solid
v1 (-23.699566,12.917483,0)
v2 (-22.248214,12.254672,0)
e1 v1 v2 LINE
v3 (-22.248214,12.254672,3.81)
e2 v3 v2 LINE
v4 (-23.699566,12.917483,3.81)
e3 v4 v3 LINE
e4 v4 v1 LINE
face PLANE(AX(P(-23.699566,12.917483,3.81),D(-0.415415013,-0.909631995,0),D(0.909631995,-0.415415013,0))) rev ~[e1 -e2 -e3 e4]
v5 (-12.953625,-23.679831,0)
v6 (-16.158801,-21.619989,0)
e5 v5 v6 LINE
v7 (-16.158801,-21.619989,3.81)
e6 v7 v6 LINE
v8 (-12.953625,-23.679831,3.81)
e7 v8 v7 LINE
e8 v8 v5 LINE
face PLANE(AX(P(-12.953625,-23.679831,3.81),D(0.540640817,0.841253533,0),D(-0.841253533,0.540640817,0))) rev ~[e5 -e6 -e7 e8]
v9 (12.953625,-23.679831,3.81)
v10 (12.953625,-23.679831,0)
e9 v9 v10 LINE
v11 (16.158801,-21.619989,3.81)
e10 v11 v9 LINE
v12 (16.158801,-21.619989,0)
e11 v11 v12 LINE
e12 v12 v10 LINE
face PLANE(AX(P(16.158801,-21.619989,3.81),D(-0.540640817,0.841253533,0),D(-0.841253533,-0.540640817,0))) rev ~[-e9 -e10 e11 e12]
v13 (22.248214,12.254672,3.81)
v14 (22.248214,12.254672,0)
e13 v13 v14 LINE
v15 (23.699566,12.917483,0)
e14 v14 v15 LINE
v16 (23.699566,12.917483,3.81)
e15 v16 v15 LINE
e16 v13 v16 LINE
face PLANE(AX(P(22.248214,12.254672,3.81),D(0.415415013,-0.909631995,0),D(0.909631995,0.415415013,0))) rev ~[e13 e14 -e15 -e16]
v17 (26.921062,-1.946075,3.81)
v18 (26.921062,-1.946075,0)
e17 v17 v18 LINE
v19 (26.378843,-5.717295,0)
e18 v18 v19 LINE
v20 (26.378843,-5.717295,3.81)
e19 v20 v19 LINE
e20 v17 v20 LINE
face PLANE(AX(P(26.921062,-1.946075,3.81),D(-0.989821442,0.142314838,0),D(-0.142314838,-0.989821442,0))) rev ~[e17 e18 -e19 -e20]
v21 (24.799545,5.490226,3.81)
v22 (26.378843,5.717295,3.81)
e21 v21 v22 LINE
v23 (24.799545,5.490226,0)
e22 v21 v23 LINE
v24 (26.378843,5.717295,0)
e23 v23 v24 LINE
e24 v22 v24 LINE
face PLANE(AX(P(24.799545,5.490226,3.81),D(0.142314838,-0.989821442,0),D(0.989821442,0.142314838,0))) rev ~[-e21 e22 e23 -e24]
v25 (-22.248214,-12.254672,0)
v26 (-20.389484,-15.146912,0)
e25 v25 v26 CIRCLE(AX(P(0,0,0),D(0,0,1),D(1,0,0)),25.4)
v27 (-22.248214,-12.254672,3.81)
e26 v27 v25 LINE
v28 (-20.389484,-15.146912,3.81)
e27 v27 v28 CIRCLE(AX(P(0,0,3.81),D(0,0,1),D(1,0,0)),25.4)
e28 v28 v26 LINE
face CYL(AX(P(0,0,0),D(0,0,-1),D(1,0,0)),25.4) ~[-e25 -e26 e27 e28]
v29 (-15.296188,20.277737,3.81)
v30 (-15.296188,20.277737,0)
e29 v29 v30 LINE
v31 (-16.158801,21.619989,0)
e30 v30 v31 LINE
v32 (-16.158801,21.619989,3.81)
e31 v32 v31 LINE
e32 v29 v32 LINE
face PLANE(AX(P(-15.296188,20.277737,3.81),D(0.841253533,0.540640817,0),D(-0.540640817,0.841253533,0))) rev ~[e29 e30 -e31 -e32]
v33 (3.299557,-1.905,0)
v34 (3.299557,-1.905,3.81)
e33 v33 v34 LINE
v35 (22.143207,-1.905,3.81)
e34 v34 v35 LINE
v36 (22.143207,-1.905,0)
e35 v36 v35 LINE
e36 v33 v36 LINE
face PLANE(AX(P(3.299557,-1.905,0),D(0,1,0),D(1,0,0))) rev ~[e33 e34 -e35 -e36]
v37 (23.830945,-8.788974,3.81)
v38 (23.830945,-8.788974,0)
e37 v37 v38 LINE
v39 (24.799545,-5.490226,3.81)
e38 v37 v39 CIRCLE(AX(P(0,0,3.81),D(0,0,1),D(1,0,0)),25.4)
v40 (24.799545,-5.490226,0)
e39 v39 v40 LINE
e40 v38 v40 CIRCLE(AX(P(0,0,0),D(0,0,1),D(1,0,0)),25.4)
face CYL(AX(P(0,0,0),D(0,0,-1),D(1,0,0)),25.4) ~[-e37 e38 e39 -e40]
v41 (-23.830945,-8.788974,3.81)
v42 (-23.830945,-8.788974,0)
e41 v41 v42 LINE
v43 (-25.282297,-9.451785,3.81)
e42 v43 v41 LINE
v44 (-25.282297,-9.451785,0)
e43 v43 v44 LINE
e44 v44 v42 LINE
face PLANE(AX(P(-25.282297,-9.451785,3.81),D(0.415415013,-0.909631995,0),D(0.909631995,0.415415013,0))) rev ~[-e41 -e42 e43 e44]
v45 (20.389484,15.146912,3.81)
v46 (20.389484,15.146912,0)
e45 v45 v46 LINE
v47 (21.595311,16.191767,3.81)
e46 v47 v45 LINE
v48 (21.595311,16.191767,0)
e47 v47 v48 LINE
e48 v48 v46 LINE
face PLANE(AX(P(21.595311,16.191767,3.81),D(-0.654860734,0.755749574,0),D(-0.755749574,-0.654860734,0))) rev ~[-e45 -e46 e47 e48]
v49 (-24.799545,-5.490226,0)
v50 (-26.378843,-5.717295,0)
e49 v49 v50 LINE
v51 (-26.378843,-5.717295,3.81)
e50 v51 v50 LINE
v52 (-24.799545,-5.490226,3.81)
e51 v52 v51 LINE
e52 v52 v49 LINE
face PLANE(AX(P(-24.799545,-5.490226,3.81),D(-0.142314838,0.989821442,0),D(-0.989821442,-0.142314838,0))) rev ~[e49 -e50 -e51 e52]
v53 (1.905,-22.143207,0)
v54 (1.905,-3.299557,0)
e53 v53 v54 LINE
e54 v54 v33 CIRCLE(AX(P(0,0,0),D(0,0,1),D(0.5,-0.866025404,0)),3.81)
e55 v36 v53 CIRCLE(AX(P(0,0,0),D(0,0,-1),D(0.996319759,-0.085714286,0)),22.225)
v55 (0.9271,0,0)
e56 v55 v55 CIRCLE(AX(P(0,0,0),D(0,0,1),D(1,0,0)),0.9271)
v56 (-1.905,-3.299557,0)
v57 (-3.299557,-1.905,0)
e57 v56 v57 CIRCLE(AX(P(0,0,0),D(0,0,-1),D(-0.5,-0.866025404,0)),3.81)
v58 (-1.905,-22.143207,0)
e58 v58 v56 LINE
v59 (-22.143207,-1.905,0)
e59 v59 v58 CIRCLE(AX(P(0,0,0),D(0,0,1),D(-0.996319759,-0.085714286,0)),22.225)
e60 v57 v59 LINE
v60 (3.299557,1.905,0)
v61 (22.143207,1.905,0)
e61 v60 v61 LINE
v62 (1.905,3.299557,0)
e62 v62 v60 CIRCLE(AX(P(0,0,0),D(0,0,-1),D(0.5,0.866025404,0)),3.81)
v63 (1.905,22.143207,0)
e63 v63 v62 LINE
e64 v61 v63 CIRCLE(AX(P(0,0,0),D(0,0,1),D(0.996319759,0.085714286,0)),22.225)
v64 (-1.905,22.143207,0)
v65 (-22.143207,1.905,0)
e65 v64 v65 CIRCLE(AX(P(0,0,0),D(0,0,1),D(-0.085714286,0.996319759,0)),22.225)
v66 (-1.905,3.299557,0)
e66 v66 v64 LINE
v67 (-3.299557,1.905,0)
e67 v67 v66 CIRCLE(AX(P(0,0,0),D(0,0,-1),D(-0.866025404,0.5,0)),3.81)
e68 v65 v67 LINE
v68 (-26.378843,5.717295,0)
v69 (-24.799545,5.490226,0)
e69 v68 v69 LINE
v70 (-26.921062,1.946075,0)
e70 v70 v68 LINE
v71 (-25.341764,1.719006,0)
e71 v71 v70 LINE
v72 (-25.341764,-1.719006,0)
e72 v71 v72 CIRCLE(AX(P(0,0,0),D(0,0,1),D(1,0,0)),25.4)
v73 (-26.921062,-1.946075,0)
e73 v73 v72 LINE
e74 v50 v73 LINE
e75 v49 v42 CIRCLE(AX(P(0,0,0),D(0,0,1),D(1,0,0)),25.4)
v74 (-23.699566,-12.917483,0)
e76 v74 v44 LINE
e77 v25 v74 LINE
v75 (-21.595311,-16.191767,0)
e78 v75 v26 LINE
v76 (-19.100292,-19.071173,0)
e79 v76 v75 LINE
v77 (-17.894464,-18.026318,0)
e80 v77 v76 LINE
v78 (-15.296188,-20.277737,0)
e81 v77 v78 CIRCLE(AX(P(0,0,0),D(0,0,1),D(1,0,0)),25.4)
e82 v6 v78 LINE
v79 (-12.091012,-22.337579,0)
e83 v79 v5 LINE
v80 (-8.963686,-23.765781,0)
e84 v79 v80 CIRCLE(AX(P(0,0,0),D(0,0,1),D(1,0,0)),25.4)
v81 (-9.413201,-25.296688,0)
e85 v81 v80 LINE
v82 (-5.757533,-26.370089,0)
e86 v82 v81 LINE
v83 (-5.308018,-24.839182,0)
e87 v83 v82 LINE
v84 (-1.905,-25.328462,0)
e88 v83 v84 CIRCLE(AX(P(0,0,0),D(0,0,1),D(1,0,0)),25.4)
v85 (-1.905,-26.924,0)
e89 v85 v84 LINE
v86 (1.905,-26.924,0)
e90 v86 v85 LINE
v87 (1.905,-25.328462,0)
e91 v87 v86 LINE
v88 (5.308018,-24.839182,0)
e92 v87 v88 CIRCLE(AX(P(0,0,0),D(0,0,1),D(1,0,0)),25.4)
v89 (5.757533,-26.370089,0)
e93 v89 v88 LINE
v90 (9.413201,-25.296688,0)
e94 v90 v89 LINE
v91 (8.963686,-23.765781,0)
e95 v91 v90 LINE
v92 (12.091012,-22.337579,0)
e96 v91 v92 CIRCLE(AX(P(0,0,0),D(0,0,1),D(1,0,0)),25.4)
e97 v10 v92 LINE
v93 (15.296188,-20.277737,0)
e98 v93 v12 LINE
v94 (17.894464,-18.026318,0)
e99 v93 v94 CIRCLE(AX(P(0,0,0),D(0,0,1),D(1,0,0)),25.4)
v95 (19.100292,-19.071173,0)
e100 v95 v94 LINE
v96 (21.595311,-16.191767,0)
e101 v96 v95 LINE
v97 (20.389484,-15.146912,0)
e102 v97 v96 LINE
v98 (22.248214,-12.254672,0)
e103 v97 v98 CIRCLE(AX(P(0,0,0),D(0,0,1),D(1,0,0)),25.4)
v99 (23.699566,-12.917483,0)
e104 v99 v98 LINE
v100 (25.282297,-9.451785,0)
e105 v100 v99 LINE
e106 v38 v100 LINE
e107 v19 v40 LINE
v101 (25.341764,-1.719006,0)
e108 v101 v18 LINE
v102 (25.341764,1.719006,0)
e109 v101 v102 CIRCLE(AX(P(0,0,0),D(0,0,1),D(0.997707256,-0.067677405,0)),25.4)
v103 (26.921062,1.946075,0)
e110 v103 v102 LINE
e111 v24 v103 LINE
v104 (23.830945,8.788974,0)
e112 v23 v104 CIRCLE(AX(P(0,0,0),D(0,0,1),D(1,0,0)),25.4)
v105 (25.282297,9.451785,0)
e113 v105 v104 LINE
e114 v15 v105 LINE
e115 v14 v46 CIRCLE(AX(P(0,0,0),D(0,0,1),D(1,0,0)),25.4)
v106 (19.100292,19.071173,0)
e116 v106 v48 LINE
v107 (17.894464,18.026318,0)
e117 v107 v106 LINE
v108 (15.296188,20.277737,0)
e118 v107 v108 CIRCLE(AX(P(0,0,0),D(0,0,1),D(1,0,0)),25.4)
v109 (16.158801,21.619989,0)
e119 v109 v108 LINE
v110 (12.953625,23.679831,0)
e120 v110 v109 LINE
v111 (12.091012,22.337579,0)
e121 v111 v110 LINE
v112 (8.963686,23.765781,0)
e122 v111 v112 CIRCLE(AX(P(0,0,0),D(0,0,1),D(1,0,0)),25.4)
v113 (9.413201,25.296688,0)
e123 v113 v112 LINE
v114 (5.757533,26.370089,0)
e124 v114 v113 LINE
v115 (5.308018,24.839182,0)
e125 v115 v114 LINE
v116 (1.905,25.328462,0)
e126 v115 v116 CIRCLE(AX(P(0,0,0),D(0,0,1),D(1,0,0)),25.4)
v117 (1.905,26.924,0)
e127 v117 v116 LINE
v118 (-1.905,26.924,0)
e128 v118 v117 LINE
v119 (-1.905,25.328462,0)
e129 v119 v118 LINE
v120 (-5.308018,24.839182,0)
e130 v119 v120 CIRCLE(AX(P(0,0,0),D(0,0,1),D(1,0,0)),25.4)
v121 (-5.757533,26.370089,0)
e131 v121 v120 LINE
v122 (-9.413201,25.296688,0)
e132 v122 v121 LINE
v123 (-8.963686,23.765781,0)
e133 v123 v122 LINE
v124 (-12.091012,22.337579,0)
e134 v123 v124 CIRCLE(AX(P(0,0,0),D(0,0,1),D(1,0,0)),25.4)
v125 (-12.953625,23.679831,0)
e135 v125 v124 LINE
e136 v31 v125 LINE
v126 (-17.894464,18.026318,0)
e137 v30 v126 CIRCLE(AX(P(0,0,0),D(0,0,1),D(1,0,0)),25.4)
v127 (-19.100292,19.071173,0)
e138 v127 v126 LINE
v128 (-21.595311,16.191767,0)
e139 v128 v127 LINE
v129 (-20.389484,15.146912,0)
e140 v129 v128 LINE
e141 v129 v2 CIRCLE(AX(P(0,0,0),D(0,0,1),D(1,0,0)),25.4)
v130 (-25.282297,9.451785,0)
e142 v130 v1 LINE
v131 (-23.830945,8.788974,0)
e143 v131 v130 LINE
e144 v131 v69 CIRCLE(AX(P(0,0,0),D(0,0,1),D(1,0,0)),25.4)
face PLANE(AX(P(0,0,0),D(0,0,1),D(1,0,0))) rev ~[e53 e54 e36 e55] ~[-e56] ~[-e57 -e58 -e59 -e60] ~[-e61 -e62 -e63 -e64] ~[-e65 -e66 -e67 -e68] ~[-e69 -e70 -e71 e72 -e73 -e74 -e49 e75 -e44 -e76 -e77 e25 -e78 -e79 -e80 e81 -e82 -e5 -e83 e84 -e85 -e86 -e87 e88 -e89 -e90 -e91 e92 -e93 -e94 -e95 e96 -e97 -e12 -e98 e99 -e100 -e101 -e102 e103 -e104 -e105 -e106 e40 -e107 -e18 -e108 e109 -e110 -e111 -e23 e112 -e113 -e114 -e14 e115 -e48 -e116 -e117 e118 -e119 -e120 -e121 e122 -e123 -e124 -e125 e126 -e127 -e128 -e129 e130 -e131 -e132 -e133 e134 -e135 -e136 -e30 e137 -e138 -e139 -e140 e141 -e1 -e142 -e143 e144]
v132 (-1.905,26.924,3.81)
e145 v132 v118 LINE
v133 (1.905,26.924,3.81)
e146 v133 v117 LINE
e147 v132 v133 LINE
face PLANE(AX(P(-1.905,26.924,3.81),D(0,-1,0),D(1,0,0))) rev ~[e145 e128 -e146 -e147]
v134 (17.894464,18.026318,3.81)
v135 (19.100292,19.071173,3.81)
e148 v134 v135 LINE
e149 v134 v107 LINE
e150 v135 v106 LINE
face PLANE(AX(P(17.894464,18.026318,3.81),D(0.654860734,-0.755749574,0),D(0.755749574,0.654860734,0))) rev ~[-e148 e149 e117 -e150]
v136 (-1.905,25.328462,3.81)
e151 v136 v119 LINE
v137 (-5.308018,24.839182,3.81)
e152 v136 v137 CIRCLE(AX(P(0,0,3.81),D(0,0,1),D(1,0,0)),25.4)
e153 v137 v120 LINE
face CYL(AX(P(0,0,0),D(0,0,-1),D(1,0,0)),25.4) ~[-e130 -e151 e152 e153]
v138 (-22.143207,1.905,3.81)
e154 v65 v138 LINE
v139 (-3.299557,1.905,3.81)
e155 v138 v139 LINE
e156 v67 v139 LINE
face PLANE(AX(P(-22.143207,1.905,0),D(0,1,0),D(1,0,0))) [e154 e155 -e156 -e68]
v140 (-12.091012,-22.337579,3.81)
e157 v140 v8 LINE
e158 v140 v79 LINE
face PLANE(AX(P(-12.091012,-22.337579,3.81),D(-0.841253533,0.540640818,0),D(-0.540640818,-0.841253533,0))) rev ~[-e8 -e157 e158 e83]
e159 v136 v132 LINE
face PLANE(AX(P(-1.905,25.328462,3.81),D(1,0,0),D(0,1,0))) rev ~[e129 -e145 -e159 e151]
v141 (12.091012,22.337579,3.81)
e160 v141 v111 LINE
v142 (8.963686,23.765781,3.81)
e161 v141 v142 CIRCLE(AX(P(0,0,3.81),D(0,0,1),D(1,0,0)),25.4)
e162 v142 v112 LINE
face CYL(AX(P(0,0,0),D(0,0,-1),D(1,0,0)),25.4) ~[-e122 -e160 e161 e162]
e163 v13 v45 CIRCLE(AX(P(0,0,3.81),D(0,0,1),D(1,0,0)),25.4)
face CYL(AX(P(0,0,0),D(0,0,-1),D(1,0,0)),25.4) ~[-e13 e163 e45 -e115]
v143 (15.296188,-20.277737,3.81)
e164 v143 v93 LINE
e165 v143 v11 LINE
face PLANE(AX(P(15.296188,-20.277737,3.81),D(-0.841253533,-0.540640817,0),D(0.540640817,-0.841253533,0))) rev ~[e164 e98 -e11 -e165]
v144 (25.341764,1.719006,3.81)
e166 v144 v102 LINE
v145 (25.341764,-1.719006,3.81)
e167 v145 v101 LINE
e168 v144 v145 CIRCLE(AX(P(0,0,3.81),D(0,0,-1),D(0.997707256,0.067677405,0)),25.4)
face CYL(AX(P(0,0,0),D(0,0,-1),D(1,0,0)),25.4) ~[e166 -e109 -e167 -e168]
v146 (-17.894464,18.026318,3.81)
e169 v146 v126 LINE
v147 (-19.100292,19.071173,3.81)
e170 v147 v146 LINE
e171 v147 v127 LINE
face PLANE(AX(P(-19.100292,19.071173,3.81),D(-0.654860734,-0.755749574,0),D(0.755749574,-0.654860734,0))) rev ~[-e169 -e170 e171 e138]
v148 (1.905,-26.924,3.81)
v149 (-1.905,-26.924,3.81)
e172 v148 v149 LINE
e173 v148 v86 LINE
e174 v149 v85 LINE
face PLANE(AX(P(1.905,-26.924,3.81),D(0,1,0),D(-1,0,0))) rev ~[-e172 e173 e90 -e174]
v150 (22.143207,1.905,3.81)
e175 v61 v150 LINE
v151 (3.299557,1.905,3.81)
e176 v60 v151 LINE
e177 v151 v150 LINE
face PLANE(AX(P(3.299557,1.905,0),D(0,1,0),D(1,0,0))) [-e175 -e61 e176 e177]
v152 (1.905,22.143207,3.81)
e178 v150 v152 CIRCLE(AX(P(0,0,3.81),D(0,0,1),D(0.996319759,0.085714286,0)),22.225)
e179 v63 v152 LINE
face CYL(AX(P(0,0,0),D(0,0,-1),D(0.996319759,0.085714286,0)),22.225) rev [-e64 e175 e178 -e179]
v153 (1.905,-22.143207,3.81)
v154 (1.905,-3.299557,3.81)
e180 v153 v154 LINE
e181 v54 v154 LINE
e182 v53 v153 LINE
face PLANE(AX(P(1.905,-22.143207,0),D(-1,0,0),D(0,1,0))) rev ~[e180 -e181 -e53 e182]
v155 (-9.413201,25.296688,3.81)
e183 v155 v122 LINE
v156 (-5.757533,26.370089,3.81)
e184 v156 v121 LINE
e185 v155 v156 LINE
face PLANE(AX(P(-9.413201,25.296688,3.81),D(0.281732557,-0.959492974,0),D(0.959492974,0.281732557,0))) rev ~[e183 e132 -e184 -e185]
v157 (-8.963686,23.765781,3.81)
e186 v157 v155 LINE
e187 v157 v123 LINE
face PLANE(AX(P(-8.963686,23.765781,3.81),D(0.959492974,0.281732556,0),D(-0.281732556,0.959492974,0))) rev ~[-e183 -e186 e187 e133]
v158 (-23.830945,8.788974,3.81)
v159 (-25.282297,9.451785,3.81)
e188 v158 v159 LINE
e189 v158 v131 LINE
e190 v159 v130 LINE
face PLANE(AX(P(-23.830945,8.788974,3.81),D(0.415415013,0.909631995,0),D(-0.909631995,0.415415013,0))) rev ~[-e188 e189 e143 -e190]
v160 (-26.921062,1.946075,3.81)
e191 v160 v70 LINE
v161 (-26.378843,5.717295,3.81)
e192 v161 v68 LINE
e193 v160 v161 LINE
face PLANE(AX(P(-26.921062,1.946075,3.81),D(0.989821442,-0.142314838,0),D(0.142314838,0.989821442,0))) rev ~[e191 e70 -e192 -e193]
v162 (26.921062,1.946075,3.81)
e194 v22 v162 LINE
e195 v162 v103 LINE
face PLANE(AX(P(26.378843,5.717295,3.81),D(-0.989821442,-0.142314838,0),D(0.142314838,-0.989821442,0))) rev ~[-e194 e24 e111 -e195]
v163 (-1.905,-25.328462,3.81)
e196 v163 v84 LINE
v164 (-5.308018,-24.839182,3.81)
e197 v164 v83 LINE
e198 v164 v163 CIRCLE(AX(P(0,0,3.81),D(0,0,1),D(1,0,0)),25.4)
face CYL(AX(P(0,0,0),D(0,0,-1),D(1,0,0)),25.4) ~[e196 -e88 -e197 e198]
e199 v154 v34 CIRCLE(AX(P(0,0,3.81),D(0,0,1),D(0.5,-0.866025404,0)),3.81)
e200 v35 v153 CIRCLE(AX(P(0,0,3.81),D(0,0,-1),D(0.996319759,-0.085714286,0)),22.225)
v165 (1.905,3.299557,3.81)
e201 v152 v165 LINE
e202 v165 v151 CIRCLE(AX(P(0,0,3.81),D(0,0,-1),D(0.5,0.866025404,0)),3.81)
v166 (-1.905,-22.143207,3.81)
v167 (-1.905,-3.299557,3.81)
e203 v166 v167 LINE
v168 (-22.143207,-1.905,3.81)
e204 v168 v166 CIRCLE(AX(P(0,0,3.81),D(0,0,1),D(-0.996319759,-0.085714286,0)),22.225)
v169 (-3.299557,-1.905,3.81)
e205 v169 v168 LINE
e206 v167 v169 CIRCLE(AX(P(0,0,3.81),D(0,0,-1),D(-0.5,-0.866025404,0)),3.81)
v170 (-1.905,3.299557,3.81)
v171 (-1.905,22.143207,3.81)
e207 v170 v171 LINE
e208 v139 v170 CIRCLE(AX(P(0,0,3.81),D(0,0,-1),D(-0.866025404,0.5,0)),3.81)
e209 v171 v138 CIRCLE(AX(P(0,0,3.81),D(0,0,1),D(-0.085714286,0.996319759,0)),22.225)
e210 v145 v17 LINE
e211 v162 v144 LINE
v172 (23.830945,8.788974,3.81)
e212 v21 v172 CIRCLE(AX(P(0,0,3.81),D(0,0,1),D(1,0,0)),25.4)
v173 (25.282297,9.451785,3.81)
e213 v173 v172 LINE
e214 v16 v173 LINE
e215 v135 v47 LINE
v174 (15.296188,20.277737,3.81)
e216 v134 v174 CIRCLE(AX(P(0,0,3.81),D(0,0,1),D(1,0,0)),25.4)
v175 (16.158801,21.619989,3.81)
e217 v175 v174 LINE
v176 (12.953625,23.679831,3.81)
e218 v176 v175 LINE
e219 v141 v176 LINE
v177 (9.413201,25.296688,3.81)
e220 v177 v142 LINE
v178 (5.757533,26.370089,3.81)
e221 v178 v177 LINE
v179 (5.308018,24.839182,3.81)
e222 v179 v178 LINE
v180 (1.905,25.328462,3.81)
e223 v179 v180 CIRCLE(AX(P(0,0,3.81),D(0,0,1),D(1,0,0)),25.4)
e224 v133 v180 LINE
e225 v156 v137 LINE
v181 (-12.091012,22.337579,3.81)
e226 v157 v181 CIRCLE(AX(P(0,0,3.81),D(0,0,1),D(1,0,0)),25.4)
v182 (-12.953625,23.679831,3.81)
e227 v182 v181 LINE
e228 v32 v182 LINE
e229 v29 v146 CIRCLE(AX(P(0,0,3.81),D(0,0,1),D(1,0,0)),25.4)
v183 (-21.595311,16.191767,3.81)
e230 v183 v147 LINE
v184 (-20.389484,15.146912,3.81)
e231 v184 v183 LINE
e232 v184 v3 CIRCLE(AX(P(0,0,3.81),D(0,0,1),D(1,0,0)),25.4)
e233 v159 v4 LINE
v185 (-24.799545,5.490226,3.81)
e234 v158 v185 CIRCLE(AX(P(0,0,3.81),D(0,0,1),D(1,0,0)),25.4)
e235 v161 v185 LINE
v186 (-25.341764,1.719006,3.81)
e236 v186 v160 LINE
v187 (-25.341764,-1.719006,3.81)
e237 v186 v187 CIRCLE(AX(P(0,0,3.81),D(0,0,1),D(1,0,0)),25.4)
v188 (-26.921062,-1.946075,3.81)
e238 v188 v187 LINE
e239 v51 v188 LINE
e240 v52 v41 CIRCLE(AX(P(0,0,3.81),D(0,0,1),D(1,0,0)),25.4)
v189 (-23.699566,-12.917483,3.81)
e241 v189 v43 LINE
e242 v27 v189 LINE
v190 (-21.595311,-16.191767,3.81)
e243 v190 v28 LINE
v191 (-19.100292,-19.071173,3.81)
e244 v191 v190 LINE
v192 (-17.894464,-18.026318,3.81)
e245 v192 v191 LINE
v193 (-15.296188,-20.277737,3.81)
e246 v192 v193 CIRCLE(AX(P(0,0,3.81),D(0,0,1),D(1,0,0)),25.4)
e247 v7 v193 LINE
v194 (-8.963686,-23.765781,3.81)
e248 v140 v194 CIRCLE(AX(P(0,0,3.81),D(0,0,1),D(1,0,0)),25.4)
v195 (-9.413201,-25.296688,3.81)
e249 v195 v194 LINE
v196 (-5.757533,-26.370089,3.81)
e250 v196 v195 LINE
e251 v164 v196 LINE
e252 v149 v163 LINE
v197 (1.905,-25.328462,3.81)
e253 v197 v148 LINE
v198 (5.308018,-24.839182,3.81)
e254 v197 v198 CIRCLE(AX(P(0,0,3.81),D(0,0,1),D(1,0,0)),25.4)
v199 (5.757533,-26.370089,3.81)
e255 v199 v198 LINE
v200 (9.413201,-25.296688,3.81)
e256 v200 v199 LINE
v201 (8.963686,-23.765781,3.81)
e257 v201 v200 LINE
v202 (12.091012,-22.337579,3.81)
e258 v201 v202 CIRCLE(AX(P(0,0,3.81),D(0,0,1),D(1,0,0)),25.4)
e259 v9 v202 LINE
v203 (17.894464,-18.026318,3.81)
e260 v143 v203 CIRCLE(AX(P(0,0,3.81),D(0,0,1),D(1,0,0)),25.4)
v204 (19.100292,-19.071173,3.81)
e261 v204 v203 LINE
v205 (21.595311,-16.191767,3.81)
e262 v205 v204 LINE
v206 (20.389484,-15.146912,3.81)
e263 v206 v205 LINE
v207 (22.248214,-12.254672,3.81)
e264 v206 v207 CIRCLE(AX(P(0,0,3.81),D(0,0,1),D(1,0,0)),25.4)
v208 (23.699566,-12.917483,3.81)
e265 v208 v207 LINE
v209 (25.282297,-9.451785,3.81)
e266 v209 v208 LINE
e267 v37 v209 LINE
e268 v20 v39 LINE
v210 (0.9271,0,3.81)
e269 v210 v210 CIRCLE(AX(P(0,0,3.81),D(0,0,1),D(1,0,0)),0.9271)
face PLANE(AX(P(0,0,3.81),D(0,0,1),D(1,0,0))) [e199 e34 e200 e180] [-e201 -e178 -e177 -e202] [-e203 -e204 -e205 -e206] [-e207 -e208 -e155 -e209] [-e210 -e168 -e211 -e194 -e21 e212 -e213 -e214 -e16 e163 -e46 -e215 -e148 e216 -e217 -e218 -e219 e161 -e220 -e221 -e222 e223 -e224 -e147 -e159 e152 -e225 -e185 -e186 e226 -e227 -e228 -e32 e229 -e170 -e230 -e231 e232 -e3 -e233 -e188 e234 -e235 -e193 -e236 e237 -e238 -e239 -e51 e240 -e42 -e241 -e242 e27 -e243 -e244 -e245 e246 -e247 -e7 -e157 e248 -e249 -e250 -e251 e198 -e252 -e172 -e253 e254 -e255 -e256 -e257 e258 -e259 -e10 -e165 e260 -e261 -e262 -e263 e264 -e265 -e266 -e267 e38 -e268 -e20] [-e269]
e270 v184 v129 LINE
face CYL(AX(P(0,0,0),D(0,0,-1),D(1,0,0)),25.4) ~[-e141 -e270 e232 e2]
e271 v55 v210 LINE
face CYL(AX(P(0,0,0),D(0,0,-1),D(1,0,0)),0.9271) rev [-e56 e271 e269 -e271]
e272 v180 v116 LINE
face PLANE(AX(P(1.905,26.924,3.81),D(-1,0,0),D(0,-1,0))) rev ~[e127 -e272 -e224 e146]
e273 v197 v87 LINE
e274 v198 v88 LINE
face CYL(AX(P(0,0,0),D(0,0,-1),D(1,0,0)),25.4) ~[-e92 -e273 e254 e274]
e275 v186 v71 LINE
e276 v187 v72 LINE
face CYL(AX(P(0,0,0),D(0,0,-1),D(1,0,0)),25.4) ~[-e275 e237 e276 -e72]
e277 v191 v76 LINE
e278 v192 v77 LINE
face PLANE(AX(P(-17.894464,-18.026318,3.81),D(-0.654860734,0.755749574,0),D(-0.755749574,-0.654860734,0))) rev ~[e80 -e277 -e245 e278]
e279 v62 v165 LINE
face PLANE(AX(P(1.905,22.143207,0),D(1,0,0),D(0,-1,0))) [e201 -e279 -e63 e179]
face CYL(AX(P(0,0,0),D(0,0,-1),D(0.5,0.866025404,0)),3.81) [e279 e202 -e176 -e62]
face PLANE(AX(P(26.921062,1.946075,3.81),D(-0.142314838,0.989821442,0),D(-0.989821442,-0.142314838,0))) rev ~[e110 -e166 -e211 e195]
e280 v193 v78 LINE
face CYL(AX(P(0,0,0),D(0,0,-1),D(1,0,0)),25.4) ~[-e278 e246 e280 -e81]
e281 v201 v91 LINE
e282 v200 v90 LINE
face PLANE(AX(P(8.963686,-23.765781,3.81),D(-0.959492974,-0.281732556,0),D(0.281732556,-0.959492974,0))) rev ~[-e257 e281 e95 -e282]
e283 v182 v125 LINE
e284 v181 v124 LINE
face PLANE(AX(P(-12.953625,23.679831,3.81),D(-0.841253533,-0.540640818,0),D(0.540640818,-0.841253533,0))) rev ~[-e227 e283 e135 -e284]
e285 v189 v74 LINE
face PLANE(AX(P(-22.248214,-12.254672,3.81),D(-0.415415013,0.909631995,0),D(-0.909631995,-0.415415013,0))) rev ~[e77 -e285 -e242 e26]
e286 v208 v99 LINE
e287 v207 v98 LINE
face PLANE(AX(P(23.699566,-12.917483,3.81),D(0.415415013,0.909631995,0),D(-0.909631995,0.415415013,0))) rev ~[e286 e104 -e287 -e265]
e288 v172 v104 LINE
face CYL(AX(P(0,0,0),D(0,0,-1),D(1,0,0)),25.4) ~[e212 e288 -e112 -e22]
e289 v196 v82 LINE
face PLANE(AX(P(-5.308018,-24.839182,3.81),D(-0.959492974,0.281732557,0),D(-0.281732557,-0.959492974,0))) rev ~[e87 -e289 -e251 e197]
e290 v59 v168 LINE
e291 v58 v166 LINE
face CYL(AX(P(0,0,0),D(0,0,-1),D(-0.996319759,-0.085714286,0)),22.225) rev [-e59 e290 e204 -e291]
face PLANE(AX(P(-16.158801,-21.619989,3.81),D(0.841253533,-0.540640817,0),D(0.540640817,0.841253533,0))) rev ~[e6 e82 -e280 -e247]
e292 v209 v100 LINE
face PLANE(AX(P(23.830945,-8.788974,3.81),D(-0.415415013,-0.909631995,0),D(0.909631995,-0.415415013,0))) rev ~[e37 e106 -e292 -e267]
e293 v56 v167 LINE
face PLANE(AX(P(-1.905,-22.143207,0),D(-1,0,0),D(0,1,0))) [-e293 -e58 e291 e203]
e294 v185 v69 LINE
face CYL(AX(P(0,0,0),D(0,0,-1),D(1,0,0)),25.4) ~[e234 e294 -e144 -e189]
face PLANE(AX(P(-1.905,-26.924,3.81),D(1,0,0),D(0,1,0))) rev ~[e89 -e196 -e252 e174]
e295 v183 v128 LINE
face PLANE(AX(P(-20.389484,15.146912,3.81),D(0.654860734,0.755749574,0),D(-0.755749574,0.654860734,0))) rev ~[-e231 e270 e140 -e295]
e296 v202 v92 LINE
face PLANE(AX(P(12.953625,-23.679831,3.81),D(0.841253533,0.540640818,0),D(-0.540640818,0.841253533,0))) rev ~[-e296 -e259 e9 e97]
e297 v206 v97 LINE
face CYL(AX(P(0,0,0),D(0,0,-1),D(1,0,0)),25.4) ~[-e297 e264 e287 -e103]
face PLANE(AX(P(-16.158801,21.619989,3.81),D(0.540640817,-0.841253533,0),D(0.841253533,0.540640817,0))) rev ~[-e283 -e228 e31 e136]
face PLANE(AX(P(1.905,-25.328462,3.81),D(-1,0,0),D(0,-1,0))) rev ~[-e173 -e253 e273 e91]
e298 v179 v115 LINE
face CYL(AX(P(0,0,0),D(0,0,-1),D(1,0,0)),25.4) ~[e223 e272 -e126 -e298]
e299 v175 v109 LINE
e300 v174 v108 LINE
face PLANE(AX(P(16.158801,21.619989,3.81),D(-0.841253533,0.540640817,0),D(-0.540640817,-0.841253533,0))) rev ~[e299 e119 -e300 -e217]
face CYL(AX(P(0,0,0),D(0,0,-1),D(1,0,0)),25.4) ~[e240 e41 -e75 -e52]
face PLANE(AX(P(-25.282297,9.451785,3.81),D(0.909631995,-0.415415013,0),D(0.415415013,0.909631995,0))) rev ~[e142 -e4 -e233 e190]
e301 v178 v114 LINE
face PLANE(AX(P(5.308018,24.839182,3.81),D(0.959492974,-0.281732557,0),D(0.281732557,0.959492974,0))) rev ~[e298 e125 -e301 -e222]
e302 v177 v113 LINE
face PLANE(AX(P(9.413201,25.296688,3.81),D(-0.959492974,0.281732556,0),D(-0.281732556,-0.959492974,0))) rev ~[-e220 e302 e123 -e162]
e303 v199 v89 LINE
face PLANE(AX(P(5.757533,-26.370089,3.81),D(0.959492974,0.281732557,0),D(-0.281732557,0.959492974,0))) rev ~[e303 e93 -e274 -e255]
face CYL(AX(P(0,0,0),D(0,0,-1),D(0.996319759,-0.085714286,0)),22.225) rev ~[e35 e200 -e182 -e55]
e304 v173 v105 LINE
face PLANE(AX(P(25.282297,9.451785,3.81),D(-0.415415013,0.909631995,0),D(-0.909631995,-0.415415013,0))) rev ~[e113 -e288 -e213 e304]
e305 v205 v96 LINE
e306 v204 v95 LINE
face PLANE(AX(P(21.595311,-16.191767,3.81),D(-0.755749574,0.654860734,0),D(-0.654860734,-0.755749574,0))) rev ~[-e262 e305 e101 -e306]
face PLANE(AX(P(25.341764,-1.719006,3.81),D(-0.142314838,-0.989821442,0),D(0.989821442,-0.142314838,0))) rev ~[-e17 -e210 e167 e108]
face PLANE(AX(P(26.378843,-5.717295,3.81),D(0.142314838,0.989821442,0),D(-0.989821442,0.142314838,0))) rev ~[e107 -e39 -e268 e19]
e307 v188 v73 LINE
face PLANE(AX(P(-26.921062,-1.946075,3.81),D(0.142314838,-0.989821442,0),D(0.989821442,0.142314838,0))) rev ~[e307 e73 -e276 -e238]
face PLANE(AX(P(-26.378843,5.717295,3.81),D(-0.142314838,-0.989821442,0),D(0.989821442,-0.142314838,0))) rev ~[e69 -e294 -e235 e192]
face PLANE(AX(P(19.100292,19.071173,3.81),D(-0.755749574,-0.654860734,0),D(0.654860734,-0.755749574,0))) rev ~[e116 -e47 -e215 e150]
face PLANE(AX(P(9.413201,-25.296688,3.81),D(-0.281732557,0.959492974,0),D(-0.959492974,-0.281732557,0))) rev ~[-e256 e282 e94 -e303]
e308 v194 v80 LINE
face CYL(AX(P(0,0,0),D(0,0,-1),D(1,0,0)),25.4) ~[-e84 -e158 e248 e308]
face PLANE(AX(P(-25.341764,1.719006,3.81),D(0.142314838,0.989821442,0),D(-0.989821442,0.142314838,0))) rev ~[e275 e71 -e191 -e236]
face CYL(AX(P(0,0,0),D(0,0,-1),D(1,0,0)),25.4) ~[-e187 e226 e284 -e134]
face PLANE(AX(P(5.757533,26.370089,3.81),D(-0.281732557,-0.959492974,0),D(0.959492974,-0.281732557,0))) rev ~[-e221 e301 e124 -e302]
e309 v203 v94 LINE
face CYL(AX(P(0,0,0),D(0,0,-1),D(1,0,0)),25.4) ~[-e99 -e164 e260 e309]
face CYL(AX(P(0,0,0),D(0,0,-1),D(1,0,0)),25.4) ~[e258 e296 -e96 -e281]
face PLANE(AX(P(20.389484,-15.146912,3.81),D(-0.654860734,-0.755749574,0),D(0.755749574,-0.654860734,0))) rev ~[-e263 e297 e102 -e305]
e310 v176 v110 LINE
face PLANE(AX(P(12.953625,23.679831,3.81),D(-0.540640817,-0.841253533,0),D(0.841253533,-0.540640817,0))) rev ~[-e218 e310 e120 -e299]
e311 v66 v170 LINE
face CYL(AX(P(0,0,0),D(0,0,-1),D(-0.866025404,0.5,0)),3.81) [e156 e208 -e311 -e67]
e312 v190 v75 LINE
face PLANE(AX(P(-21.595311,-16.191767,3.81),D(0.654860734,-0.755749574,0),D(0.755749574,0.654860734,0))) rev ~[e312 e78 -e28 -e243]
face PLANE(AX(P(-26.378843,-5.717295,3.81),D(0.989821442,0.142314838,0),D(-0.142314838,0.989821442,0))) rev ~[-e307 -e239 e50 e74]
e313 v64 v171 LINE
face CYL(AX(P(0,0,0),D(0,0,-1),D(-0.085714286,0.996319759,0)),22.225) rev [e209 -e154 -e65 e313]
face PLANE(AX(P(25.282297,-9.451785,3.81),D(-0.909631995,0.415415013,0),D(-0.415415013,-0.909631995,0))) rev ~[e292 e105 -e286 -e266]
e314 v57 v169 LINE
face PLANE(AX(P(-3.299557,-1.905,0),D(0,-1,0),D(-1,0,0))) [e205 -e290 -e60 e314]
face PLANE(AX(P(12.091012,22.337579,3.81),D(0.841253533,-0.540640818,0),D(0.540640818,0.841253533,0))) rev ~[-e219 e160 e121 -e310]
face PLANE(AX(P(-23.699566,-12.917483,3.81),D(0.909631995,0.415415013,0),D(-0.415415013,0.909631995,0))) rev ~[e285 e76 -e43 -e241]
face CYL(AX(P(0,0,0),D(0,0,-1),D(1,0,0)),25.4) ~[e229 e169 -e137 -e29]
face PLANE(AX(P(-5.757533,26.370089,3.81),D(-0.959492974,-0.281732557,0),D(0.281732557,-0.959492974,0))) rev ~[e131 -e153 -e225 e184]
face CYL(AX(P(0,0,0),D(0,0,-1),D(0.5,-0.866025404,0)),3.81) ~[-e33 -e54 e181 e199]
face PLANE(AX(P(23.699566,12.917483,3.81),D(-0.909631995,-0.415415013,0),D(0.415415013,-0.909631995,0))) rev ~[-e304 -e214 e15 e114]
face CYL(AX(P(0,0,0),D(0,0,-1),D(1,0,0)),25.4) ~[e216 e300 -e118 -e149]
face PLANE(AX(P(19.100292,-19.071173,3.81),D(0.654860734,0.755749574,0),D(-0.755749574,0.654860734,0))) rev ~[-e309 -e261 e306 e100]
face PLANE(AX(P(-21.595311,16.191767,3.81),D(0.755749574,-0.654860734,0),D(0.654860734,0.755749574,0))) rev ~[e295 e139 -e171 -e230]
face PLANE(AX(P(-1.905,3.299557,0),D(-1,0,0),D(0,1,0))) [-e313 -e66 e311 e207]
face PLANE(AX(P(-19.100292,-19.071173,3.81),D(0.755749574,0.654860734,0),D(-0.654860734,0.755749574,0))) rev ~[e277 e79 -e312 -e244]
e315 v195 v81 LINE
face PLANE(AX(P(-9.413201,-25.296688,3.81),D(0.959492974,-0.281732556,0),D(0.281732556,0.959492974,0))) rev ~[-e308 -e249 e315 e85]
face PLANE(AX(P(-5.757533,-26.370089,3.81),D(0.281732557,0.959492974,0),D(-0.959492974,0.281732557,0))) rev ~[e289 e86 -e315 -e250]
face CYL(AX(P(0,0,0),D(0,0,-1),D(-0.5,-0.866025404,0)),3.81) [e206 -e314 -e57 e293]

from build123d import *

# Parameters (mm, degrees)
SKETCH1_R           = 25.4
SKETCH1_R_2         = 0.9271
BOSS_EXTRUDE1_DEPTH = 3.81
BOSS_EXTRUDE2_DEPTH = 3.81


with BuildPart() as part:
    # Sketch1 → Boss-Extrude1 (new body)
    with BuildSketch(Plane.XY):
        Circle(SKETCH1_R)
        Circle(SKETCH1_R_2, mode=Mode.SUBTRACT)
        with BuildLine():
            Line((-1.905, 3.299556788), (-1.905, 22.143206633))
            ThreePointArc((-1.905, 22.143206633), (-15.715448212, 15.715448212), (-22.143206633, 1.905))
            Line((-22.143206633, 1.905), (-3.299556788, 1.905))
            ThreePointArc((-3.299556788, 1.905), (-2.694076836, 2.694076836), (-1.905, 3.299556788))
        make_face(mode=Mode.SUBTRACT)
        with BuildLine():
            Line((1.905, -22.143206633), (1.905, -3.299556788))
            ThreePointArc((1.905, -3.299556788), (2.694076836, -2.694076836), (3.299556788, -1.905))
            Line((3.299556788, -1.905), (22.143206633, -1.905))
            ThreePointArc((22.143206633, -1.905), (15.715448212, -15.715448212), (1.905, -22.143206633))
        make_face(mode=Mode.SUBTRACT)
        with BuildLine():
            Line((-1.905, -22.143206633), (-1.905, -3.299556788))
            ThreePointArc((-1.905, -3.299556788), (-2.694076836, -2.694076836), (-3.299556788, -1.905))
            Line((-3.299556788, -1.905), (-22.143206633, -1.905))
            ThreePointArc((-22.143206633, -1.905), (-15.715448212, -15.715448212), (-1.905, -22.143206633))
        make_face(mode=Mode.SUBTRACT)
        with BuildLine():
            Line((3.299556788, 1.905), (22.143206633, 1.905))
            ThreePointArc((22.143206633, 1.905), (15.715448212, 15.715448212), (1.905, 22.143206633))
            Line((1.905, 22.143206633), (1.905, 3.299556788))
            ThreePointArc((1.905, 3.299556788), (2.694076836, 2.694076836), (3.299556788, 1.905))
        make_face(mode=Mode.SUBTRACT)
    extrude(amount=BOSS_EXTRUDE1_DEPTH)

    # Sketch2 → Boss-Extrude2 (add)
    with BuildSketch(Plane.XY.offset(3.81)):
        with BuildLine():
            Line((5.308018177, 24.83918161), (5.757533246, 26.370089342))
            Line((5.757533246, 26.370089342), (9.413201475, 25.296688301))
            Line((9.413201475, 25.296688301), (8.963686407, 23.765780568))
            ThreePointArc((8.963686407, 23.765780568), (7.156006944, 24.37112153), (5.308018177, 24.83918161))
        make_face()
        with BuildLine():
            Line((-1.905, 25.328461757), (-1.905, 26.924))
            Line((-1.905, 26.924), (1.905, 26.924))
            Line((1.905, 26.924), (1.905, 25.328461757))
            ThreePointArc((1.905, 25.328461757), (0, 25.4), (-1.905, 25.328461757))
        make_face()
        with BuildLine():
            Line((12.091012289, 22.337578692), (12.953625389, 23.679830875))
            Line((12.953625389, 23.679830875), (16.158801349, 21.619989361))
            Line((16.158801349, 21.619989361), (15.296188249, 20.277737177))
            ThreePointArc((15.296188249, 20.277737177), (13.732276763, 21.367839734), (12.091012289, 22.337578692))
        make_face()
        with BuildLine():
            Line((17.894464494, 18.026317995), (19.100291842, 19.07117334))
            Line((19.100291842, 19.07117334), (21.595311238, 16.191767462))
            Line((21.595311238, 16.191767462), (20.38948389, 15.146912117))
            ThreePointArc((20.38948389, 15.146912117), (19.196039189, 16.633462642), (17.894464494, 18.026317995))
        make_face()
        with BuildLine():
            Line((22.248213608, 12.254672221), (23.699566243, 12.917482761))
            Line((23.699566243, 12.917482761), (25.282297443, 9.451784859))
            Line((25.282297443, 9.451784859), (23.830944807, 8.788974319))
            ThreePointArc((23.830944807, 8.788974319), (23.104652682, 10.55154133), (22.248213608, 12.254672221))
        make_face()
        with BuildLine():
            Line((24.79954477, 5.490225786), (26.378842734, 5.717294552))
            Line((26.378842734, 5.717294552), (26.921062268, 1.946074859))
            Line((26.921062268, 1.946074859), (25.341764304, 1.719006092))
            ThreePointArc((25.341764304, 1.719006092), (25.141464624, 3.614796892), (24.79954477, 5.490225786))
        make_face()
        with BuildLine():
            Line((25.341764304, -1.719006092), (26.921062268, -1.946074859))
            Line((26.921062268, -1.946074859), (26.378842734, -5.717294552))
            Line((26.378842734, -5.717294552), (24.79954477, -5.490225786))
            ThreePointArc((24.79954477, -5.490225786), (25.141464624, -3.614796892), (25.341764304, -1.719006092))
        make_face()
        with BuildLine():
            Line((23.830944807, -8.788974319), (25.282297443, -9.451784859))
            Line((25.282297443, -9.451784859), (23.699566243, -12.917482761))
            Line((23.699566243, -12.917482761), (22.248213608, -12.254672221))
            ThreePointArc((22.248213608, -12.254672221), (23.104652682, -10.55154133), (23.830944807, -8.788974319))
        make_face()
        with BuildLine():
            Line((20.38948389, -15.146912117), (21.595311238, -16.191767462))
            Line((21.595311238, -16.191767462), (19.100291842, -19.07117334))
            Line((19.100291842, -19.07117334), (17.894464494, -18.026317995))
            ThreePointArc((17.894464494, -18.026317995), (19.196039189, -16.633462642), (20.38948389, -15.146912117))
        make_face()
        with BuildLine():
            Line((15.296188249, -20.277737177), (16.158801349, -21.619989361))
            Line((16.158801349, -21.619989361), (12.953625389, -23.679830875))
            Line((12.953625389, -23.679830875), (12.091012289, -22.337578692))
            ThreePointArc((12.091012289, -22.337578692), (13.732276763, -21.367839734), (15.296188249, -20.277737177))
        make_face()
        with BuildLine():
            Line((8.963686407, -23.765780568), (9.413201475, -25.296688301))
            Line((9.413201475, -25.296688301), (5.757533246, -26.370089342))
            Line((5.757533246, -26.370089342), (5.308018177, -24.83918161))
            ThreePointArc((5.308018177, -24.83918161), (7.156006944, -24.37112153), (8.963686407, -23.765780568))
        make_face()
        with BuildLine():
            Line((1.905, -25.328461757), (1.905, -26.924))
            Line((1.905, -26.924), (-1.905, -26.924))
            Line((-1.905, -26.924), (-1.905, -25.328461757))
            ThreePointArc((-1.905, -25.328461757), (0, -25.4), (1.905, -25.328461757))
        make_face()
        with BuildLine():
            Line((-5.308018177, -24.83918161), (-5.757533246, -26.370089342))
            Line((-5.757533246, -26.370089342), (-9.413201475, -25.296688301))
            Line((-9.413201475, -25.296688301), (-8.963686407, -23.765780568))
            ThreePointArc((-8.963686407, -23.765780568), (-7.156006944, -24.37112153), (-5.308018177, -24.83918161))
        make_face()
        with BuildLine():
            Line((-12.091012289, -22.337578692), (-12.953625389, -23.679830875))
            Line((-12.953625389, -23.679830875), (-16.158801349, -21.619989361))
            Line((-16.158801349, -21.619989361), (-15.296188249, -20.277737177))
            ThreePointArc((-15.296188249, -20.277737177), (-13.732276763, -21.367839734), (-12.091012289, -22.337578692))
        make_face()
        with BuildLine():
            Line((-17.894464494, -18.026317995), (-19.100291842, -19.07117334))
            Line((-19.100291842, -19.07117334), (-21.595311238, -16.191767462))
            Line((-21.595311238, -16.191767462), (-20.38948389, -15.146912117))
            ThreePointArc((-20.38948389, -15.146912117), (-19.196039189, -16.633462642), (-17.894464494, -18.026317995))
        make_face()
        with BuildLine():
            Line((-22.248213608, -12.254672221), (-23.699566243, -12.917482761))
            Line((-23.699566243, -12.917482761), (-25.282297443, -9.451784859))
            Line((-25.282297443, -9.451784859), (-23.830944807, -8.788974319))
            ThreePointArc((-23.830944807, -8.788974319), (-23.104652682, -10.55154133), (-22.248213608, -12.254672221))
        make_face()
        with BuildLine():
            Line((-24.79954477, -5.490225786), (-26.378842734, -5.717294552))
            Line((-26.378842734, -5.717294552), (-26.921062268, -1.946074859))
            Line((-26.921062268, -1.946074859), (-25.341764304, -1.719006092))
            ThreePointArc((-25.341764304, -1.719006092), (-25.141464624, -3.614796892), (-24.79954477, -5.490225786))
        make_face()
        with BuildLine():
            Line((-25.341764304, 1.719006092), (-26.921062268, 1.946074859))
            Line((-26.921062268, 1.946074859), (-26.378842734, 5.717294552))
            Line((-26.378842734, 5.717294552), (-24.79954477, 5.490225786))
            ThreePointArc((-24.79954477, 5.490225786), (-25.141464624, 3.614796892), (-25.341764304, 1.719006092))
        make_face()
        with BuildLine():
            Line((-23.830944807, 8.788974319), (-25.282297443, 9.451784859))
            Line((-25.282297443, 9.451784859), (-23.699566243, 12.917482761))
            Line((-23.699566243, 12.917482761), (-22.248213608, 12.254672221))
            ThreePointArc((-22.248213608, 12.254672221), (-23.104652682, 10.55154133), (-23.830944807, 8.788974319))
        make_face()
        with BuildLine():
            Line((-20.38948389, 15.146912117), (-21.595311238, 16.191767462))
            Line((-21.595311238, 16.191767462), (-19.100291842, 19.07117334))
            Line((-19.100291842, 19.07117334), (-17.894464494, 18.026317995))
            ThreePointArc((-17.894464494, 18.026317995), (-19.196039189, 16.633462642), (-20.38948389, 15.146912117))
        make_face()
        with BuildLine():
            Line((-15.296188249, 20.277737177), (-16.158801349, 21.619989361))
            Line((-16.158801349, 21.619989361), (-12.953625389, 23.679830875))
            Line((-12.953625389, 23.679830875), (-12.091012289, 22.337578692))
            ThreePointArc((-12.091012289, 22.337578692), (-13.732276763, 21.367839734), (-15.296188249, 20.277737177))
        make_face()
        with BuildLine():
            Line((-8.963686407, 23.765780568), (-9.413201475, 25.296688301))
            Line((-9.413201475, 25.296688301), (-5.757533246, 26.370089342))
            Line((-5.757533246, 26.370089342), (-5.308018177, 24.83918161))
            ThreePointArc((-5.308018177, 24.83918161), (-7.156006944, 24.37112153), (-8.963686407, 23.765780568))
        make_face()
    extrude(amount=-BOSS_EXTRUDE2_DEPTH)


solid = part.part
